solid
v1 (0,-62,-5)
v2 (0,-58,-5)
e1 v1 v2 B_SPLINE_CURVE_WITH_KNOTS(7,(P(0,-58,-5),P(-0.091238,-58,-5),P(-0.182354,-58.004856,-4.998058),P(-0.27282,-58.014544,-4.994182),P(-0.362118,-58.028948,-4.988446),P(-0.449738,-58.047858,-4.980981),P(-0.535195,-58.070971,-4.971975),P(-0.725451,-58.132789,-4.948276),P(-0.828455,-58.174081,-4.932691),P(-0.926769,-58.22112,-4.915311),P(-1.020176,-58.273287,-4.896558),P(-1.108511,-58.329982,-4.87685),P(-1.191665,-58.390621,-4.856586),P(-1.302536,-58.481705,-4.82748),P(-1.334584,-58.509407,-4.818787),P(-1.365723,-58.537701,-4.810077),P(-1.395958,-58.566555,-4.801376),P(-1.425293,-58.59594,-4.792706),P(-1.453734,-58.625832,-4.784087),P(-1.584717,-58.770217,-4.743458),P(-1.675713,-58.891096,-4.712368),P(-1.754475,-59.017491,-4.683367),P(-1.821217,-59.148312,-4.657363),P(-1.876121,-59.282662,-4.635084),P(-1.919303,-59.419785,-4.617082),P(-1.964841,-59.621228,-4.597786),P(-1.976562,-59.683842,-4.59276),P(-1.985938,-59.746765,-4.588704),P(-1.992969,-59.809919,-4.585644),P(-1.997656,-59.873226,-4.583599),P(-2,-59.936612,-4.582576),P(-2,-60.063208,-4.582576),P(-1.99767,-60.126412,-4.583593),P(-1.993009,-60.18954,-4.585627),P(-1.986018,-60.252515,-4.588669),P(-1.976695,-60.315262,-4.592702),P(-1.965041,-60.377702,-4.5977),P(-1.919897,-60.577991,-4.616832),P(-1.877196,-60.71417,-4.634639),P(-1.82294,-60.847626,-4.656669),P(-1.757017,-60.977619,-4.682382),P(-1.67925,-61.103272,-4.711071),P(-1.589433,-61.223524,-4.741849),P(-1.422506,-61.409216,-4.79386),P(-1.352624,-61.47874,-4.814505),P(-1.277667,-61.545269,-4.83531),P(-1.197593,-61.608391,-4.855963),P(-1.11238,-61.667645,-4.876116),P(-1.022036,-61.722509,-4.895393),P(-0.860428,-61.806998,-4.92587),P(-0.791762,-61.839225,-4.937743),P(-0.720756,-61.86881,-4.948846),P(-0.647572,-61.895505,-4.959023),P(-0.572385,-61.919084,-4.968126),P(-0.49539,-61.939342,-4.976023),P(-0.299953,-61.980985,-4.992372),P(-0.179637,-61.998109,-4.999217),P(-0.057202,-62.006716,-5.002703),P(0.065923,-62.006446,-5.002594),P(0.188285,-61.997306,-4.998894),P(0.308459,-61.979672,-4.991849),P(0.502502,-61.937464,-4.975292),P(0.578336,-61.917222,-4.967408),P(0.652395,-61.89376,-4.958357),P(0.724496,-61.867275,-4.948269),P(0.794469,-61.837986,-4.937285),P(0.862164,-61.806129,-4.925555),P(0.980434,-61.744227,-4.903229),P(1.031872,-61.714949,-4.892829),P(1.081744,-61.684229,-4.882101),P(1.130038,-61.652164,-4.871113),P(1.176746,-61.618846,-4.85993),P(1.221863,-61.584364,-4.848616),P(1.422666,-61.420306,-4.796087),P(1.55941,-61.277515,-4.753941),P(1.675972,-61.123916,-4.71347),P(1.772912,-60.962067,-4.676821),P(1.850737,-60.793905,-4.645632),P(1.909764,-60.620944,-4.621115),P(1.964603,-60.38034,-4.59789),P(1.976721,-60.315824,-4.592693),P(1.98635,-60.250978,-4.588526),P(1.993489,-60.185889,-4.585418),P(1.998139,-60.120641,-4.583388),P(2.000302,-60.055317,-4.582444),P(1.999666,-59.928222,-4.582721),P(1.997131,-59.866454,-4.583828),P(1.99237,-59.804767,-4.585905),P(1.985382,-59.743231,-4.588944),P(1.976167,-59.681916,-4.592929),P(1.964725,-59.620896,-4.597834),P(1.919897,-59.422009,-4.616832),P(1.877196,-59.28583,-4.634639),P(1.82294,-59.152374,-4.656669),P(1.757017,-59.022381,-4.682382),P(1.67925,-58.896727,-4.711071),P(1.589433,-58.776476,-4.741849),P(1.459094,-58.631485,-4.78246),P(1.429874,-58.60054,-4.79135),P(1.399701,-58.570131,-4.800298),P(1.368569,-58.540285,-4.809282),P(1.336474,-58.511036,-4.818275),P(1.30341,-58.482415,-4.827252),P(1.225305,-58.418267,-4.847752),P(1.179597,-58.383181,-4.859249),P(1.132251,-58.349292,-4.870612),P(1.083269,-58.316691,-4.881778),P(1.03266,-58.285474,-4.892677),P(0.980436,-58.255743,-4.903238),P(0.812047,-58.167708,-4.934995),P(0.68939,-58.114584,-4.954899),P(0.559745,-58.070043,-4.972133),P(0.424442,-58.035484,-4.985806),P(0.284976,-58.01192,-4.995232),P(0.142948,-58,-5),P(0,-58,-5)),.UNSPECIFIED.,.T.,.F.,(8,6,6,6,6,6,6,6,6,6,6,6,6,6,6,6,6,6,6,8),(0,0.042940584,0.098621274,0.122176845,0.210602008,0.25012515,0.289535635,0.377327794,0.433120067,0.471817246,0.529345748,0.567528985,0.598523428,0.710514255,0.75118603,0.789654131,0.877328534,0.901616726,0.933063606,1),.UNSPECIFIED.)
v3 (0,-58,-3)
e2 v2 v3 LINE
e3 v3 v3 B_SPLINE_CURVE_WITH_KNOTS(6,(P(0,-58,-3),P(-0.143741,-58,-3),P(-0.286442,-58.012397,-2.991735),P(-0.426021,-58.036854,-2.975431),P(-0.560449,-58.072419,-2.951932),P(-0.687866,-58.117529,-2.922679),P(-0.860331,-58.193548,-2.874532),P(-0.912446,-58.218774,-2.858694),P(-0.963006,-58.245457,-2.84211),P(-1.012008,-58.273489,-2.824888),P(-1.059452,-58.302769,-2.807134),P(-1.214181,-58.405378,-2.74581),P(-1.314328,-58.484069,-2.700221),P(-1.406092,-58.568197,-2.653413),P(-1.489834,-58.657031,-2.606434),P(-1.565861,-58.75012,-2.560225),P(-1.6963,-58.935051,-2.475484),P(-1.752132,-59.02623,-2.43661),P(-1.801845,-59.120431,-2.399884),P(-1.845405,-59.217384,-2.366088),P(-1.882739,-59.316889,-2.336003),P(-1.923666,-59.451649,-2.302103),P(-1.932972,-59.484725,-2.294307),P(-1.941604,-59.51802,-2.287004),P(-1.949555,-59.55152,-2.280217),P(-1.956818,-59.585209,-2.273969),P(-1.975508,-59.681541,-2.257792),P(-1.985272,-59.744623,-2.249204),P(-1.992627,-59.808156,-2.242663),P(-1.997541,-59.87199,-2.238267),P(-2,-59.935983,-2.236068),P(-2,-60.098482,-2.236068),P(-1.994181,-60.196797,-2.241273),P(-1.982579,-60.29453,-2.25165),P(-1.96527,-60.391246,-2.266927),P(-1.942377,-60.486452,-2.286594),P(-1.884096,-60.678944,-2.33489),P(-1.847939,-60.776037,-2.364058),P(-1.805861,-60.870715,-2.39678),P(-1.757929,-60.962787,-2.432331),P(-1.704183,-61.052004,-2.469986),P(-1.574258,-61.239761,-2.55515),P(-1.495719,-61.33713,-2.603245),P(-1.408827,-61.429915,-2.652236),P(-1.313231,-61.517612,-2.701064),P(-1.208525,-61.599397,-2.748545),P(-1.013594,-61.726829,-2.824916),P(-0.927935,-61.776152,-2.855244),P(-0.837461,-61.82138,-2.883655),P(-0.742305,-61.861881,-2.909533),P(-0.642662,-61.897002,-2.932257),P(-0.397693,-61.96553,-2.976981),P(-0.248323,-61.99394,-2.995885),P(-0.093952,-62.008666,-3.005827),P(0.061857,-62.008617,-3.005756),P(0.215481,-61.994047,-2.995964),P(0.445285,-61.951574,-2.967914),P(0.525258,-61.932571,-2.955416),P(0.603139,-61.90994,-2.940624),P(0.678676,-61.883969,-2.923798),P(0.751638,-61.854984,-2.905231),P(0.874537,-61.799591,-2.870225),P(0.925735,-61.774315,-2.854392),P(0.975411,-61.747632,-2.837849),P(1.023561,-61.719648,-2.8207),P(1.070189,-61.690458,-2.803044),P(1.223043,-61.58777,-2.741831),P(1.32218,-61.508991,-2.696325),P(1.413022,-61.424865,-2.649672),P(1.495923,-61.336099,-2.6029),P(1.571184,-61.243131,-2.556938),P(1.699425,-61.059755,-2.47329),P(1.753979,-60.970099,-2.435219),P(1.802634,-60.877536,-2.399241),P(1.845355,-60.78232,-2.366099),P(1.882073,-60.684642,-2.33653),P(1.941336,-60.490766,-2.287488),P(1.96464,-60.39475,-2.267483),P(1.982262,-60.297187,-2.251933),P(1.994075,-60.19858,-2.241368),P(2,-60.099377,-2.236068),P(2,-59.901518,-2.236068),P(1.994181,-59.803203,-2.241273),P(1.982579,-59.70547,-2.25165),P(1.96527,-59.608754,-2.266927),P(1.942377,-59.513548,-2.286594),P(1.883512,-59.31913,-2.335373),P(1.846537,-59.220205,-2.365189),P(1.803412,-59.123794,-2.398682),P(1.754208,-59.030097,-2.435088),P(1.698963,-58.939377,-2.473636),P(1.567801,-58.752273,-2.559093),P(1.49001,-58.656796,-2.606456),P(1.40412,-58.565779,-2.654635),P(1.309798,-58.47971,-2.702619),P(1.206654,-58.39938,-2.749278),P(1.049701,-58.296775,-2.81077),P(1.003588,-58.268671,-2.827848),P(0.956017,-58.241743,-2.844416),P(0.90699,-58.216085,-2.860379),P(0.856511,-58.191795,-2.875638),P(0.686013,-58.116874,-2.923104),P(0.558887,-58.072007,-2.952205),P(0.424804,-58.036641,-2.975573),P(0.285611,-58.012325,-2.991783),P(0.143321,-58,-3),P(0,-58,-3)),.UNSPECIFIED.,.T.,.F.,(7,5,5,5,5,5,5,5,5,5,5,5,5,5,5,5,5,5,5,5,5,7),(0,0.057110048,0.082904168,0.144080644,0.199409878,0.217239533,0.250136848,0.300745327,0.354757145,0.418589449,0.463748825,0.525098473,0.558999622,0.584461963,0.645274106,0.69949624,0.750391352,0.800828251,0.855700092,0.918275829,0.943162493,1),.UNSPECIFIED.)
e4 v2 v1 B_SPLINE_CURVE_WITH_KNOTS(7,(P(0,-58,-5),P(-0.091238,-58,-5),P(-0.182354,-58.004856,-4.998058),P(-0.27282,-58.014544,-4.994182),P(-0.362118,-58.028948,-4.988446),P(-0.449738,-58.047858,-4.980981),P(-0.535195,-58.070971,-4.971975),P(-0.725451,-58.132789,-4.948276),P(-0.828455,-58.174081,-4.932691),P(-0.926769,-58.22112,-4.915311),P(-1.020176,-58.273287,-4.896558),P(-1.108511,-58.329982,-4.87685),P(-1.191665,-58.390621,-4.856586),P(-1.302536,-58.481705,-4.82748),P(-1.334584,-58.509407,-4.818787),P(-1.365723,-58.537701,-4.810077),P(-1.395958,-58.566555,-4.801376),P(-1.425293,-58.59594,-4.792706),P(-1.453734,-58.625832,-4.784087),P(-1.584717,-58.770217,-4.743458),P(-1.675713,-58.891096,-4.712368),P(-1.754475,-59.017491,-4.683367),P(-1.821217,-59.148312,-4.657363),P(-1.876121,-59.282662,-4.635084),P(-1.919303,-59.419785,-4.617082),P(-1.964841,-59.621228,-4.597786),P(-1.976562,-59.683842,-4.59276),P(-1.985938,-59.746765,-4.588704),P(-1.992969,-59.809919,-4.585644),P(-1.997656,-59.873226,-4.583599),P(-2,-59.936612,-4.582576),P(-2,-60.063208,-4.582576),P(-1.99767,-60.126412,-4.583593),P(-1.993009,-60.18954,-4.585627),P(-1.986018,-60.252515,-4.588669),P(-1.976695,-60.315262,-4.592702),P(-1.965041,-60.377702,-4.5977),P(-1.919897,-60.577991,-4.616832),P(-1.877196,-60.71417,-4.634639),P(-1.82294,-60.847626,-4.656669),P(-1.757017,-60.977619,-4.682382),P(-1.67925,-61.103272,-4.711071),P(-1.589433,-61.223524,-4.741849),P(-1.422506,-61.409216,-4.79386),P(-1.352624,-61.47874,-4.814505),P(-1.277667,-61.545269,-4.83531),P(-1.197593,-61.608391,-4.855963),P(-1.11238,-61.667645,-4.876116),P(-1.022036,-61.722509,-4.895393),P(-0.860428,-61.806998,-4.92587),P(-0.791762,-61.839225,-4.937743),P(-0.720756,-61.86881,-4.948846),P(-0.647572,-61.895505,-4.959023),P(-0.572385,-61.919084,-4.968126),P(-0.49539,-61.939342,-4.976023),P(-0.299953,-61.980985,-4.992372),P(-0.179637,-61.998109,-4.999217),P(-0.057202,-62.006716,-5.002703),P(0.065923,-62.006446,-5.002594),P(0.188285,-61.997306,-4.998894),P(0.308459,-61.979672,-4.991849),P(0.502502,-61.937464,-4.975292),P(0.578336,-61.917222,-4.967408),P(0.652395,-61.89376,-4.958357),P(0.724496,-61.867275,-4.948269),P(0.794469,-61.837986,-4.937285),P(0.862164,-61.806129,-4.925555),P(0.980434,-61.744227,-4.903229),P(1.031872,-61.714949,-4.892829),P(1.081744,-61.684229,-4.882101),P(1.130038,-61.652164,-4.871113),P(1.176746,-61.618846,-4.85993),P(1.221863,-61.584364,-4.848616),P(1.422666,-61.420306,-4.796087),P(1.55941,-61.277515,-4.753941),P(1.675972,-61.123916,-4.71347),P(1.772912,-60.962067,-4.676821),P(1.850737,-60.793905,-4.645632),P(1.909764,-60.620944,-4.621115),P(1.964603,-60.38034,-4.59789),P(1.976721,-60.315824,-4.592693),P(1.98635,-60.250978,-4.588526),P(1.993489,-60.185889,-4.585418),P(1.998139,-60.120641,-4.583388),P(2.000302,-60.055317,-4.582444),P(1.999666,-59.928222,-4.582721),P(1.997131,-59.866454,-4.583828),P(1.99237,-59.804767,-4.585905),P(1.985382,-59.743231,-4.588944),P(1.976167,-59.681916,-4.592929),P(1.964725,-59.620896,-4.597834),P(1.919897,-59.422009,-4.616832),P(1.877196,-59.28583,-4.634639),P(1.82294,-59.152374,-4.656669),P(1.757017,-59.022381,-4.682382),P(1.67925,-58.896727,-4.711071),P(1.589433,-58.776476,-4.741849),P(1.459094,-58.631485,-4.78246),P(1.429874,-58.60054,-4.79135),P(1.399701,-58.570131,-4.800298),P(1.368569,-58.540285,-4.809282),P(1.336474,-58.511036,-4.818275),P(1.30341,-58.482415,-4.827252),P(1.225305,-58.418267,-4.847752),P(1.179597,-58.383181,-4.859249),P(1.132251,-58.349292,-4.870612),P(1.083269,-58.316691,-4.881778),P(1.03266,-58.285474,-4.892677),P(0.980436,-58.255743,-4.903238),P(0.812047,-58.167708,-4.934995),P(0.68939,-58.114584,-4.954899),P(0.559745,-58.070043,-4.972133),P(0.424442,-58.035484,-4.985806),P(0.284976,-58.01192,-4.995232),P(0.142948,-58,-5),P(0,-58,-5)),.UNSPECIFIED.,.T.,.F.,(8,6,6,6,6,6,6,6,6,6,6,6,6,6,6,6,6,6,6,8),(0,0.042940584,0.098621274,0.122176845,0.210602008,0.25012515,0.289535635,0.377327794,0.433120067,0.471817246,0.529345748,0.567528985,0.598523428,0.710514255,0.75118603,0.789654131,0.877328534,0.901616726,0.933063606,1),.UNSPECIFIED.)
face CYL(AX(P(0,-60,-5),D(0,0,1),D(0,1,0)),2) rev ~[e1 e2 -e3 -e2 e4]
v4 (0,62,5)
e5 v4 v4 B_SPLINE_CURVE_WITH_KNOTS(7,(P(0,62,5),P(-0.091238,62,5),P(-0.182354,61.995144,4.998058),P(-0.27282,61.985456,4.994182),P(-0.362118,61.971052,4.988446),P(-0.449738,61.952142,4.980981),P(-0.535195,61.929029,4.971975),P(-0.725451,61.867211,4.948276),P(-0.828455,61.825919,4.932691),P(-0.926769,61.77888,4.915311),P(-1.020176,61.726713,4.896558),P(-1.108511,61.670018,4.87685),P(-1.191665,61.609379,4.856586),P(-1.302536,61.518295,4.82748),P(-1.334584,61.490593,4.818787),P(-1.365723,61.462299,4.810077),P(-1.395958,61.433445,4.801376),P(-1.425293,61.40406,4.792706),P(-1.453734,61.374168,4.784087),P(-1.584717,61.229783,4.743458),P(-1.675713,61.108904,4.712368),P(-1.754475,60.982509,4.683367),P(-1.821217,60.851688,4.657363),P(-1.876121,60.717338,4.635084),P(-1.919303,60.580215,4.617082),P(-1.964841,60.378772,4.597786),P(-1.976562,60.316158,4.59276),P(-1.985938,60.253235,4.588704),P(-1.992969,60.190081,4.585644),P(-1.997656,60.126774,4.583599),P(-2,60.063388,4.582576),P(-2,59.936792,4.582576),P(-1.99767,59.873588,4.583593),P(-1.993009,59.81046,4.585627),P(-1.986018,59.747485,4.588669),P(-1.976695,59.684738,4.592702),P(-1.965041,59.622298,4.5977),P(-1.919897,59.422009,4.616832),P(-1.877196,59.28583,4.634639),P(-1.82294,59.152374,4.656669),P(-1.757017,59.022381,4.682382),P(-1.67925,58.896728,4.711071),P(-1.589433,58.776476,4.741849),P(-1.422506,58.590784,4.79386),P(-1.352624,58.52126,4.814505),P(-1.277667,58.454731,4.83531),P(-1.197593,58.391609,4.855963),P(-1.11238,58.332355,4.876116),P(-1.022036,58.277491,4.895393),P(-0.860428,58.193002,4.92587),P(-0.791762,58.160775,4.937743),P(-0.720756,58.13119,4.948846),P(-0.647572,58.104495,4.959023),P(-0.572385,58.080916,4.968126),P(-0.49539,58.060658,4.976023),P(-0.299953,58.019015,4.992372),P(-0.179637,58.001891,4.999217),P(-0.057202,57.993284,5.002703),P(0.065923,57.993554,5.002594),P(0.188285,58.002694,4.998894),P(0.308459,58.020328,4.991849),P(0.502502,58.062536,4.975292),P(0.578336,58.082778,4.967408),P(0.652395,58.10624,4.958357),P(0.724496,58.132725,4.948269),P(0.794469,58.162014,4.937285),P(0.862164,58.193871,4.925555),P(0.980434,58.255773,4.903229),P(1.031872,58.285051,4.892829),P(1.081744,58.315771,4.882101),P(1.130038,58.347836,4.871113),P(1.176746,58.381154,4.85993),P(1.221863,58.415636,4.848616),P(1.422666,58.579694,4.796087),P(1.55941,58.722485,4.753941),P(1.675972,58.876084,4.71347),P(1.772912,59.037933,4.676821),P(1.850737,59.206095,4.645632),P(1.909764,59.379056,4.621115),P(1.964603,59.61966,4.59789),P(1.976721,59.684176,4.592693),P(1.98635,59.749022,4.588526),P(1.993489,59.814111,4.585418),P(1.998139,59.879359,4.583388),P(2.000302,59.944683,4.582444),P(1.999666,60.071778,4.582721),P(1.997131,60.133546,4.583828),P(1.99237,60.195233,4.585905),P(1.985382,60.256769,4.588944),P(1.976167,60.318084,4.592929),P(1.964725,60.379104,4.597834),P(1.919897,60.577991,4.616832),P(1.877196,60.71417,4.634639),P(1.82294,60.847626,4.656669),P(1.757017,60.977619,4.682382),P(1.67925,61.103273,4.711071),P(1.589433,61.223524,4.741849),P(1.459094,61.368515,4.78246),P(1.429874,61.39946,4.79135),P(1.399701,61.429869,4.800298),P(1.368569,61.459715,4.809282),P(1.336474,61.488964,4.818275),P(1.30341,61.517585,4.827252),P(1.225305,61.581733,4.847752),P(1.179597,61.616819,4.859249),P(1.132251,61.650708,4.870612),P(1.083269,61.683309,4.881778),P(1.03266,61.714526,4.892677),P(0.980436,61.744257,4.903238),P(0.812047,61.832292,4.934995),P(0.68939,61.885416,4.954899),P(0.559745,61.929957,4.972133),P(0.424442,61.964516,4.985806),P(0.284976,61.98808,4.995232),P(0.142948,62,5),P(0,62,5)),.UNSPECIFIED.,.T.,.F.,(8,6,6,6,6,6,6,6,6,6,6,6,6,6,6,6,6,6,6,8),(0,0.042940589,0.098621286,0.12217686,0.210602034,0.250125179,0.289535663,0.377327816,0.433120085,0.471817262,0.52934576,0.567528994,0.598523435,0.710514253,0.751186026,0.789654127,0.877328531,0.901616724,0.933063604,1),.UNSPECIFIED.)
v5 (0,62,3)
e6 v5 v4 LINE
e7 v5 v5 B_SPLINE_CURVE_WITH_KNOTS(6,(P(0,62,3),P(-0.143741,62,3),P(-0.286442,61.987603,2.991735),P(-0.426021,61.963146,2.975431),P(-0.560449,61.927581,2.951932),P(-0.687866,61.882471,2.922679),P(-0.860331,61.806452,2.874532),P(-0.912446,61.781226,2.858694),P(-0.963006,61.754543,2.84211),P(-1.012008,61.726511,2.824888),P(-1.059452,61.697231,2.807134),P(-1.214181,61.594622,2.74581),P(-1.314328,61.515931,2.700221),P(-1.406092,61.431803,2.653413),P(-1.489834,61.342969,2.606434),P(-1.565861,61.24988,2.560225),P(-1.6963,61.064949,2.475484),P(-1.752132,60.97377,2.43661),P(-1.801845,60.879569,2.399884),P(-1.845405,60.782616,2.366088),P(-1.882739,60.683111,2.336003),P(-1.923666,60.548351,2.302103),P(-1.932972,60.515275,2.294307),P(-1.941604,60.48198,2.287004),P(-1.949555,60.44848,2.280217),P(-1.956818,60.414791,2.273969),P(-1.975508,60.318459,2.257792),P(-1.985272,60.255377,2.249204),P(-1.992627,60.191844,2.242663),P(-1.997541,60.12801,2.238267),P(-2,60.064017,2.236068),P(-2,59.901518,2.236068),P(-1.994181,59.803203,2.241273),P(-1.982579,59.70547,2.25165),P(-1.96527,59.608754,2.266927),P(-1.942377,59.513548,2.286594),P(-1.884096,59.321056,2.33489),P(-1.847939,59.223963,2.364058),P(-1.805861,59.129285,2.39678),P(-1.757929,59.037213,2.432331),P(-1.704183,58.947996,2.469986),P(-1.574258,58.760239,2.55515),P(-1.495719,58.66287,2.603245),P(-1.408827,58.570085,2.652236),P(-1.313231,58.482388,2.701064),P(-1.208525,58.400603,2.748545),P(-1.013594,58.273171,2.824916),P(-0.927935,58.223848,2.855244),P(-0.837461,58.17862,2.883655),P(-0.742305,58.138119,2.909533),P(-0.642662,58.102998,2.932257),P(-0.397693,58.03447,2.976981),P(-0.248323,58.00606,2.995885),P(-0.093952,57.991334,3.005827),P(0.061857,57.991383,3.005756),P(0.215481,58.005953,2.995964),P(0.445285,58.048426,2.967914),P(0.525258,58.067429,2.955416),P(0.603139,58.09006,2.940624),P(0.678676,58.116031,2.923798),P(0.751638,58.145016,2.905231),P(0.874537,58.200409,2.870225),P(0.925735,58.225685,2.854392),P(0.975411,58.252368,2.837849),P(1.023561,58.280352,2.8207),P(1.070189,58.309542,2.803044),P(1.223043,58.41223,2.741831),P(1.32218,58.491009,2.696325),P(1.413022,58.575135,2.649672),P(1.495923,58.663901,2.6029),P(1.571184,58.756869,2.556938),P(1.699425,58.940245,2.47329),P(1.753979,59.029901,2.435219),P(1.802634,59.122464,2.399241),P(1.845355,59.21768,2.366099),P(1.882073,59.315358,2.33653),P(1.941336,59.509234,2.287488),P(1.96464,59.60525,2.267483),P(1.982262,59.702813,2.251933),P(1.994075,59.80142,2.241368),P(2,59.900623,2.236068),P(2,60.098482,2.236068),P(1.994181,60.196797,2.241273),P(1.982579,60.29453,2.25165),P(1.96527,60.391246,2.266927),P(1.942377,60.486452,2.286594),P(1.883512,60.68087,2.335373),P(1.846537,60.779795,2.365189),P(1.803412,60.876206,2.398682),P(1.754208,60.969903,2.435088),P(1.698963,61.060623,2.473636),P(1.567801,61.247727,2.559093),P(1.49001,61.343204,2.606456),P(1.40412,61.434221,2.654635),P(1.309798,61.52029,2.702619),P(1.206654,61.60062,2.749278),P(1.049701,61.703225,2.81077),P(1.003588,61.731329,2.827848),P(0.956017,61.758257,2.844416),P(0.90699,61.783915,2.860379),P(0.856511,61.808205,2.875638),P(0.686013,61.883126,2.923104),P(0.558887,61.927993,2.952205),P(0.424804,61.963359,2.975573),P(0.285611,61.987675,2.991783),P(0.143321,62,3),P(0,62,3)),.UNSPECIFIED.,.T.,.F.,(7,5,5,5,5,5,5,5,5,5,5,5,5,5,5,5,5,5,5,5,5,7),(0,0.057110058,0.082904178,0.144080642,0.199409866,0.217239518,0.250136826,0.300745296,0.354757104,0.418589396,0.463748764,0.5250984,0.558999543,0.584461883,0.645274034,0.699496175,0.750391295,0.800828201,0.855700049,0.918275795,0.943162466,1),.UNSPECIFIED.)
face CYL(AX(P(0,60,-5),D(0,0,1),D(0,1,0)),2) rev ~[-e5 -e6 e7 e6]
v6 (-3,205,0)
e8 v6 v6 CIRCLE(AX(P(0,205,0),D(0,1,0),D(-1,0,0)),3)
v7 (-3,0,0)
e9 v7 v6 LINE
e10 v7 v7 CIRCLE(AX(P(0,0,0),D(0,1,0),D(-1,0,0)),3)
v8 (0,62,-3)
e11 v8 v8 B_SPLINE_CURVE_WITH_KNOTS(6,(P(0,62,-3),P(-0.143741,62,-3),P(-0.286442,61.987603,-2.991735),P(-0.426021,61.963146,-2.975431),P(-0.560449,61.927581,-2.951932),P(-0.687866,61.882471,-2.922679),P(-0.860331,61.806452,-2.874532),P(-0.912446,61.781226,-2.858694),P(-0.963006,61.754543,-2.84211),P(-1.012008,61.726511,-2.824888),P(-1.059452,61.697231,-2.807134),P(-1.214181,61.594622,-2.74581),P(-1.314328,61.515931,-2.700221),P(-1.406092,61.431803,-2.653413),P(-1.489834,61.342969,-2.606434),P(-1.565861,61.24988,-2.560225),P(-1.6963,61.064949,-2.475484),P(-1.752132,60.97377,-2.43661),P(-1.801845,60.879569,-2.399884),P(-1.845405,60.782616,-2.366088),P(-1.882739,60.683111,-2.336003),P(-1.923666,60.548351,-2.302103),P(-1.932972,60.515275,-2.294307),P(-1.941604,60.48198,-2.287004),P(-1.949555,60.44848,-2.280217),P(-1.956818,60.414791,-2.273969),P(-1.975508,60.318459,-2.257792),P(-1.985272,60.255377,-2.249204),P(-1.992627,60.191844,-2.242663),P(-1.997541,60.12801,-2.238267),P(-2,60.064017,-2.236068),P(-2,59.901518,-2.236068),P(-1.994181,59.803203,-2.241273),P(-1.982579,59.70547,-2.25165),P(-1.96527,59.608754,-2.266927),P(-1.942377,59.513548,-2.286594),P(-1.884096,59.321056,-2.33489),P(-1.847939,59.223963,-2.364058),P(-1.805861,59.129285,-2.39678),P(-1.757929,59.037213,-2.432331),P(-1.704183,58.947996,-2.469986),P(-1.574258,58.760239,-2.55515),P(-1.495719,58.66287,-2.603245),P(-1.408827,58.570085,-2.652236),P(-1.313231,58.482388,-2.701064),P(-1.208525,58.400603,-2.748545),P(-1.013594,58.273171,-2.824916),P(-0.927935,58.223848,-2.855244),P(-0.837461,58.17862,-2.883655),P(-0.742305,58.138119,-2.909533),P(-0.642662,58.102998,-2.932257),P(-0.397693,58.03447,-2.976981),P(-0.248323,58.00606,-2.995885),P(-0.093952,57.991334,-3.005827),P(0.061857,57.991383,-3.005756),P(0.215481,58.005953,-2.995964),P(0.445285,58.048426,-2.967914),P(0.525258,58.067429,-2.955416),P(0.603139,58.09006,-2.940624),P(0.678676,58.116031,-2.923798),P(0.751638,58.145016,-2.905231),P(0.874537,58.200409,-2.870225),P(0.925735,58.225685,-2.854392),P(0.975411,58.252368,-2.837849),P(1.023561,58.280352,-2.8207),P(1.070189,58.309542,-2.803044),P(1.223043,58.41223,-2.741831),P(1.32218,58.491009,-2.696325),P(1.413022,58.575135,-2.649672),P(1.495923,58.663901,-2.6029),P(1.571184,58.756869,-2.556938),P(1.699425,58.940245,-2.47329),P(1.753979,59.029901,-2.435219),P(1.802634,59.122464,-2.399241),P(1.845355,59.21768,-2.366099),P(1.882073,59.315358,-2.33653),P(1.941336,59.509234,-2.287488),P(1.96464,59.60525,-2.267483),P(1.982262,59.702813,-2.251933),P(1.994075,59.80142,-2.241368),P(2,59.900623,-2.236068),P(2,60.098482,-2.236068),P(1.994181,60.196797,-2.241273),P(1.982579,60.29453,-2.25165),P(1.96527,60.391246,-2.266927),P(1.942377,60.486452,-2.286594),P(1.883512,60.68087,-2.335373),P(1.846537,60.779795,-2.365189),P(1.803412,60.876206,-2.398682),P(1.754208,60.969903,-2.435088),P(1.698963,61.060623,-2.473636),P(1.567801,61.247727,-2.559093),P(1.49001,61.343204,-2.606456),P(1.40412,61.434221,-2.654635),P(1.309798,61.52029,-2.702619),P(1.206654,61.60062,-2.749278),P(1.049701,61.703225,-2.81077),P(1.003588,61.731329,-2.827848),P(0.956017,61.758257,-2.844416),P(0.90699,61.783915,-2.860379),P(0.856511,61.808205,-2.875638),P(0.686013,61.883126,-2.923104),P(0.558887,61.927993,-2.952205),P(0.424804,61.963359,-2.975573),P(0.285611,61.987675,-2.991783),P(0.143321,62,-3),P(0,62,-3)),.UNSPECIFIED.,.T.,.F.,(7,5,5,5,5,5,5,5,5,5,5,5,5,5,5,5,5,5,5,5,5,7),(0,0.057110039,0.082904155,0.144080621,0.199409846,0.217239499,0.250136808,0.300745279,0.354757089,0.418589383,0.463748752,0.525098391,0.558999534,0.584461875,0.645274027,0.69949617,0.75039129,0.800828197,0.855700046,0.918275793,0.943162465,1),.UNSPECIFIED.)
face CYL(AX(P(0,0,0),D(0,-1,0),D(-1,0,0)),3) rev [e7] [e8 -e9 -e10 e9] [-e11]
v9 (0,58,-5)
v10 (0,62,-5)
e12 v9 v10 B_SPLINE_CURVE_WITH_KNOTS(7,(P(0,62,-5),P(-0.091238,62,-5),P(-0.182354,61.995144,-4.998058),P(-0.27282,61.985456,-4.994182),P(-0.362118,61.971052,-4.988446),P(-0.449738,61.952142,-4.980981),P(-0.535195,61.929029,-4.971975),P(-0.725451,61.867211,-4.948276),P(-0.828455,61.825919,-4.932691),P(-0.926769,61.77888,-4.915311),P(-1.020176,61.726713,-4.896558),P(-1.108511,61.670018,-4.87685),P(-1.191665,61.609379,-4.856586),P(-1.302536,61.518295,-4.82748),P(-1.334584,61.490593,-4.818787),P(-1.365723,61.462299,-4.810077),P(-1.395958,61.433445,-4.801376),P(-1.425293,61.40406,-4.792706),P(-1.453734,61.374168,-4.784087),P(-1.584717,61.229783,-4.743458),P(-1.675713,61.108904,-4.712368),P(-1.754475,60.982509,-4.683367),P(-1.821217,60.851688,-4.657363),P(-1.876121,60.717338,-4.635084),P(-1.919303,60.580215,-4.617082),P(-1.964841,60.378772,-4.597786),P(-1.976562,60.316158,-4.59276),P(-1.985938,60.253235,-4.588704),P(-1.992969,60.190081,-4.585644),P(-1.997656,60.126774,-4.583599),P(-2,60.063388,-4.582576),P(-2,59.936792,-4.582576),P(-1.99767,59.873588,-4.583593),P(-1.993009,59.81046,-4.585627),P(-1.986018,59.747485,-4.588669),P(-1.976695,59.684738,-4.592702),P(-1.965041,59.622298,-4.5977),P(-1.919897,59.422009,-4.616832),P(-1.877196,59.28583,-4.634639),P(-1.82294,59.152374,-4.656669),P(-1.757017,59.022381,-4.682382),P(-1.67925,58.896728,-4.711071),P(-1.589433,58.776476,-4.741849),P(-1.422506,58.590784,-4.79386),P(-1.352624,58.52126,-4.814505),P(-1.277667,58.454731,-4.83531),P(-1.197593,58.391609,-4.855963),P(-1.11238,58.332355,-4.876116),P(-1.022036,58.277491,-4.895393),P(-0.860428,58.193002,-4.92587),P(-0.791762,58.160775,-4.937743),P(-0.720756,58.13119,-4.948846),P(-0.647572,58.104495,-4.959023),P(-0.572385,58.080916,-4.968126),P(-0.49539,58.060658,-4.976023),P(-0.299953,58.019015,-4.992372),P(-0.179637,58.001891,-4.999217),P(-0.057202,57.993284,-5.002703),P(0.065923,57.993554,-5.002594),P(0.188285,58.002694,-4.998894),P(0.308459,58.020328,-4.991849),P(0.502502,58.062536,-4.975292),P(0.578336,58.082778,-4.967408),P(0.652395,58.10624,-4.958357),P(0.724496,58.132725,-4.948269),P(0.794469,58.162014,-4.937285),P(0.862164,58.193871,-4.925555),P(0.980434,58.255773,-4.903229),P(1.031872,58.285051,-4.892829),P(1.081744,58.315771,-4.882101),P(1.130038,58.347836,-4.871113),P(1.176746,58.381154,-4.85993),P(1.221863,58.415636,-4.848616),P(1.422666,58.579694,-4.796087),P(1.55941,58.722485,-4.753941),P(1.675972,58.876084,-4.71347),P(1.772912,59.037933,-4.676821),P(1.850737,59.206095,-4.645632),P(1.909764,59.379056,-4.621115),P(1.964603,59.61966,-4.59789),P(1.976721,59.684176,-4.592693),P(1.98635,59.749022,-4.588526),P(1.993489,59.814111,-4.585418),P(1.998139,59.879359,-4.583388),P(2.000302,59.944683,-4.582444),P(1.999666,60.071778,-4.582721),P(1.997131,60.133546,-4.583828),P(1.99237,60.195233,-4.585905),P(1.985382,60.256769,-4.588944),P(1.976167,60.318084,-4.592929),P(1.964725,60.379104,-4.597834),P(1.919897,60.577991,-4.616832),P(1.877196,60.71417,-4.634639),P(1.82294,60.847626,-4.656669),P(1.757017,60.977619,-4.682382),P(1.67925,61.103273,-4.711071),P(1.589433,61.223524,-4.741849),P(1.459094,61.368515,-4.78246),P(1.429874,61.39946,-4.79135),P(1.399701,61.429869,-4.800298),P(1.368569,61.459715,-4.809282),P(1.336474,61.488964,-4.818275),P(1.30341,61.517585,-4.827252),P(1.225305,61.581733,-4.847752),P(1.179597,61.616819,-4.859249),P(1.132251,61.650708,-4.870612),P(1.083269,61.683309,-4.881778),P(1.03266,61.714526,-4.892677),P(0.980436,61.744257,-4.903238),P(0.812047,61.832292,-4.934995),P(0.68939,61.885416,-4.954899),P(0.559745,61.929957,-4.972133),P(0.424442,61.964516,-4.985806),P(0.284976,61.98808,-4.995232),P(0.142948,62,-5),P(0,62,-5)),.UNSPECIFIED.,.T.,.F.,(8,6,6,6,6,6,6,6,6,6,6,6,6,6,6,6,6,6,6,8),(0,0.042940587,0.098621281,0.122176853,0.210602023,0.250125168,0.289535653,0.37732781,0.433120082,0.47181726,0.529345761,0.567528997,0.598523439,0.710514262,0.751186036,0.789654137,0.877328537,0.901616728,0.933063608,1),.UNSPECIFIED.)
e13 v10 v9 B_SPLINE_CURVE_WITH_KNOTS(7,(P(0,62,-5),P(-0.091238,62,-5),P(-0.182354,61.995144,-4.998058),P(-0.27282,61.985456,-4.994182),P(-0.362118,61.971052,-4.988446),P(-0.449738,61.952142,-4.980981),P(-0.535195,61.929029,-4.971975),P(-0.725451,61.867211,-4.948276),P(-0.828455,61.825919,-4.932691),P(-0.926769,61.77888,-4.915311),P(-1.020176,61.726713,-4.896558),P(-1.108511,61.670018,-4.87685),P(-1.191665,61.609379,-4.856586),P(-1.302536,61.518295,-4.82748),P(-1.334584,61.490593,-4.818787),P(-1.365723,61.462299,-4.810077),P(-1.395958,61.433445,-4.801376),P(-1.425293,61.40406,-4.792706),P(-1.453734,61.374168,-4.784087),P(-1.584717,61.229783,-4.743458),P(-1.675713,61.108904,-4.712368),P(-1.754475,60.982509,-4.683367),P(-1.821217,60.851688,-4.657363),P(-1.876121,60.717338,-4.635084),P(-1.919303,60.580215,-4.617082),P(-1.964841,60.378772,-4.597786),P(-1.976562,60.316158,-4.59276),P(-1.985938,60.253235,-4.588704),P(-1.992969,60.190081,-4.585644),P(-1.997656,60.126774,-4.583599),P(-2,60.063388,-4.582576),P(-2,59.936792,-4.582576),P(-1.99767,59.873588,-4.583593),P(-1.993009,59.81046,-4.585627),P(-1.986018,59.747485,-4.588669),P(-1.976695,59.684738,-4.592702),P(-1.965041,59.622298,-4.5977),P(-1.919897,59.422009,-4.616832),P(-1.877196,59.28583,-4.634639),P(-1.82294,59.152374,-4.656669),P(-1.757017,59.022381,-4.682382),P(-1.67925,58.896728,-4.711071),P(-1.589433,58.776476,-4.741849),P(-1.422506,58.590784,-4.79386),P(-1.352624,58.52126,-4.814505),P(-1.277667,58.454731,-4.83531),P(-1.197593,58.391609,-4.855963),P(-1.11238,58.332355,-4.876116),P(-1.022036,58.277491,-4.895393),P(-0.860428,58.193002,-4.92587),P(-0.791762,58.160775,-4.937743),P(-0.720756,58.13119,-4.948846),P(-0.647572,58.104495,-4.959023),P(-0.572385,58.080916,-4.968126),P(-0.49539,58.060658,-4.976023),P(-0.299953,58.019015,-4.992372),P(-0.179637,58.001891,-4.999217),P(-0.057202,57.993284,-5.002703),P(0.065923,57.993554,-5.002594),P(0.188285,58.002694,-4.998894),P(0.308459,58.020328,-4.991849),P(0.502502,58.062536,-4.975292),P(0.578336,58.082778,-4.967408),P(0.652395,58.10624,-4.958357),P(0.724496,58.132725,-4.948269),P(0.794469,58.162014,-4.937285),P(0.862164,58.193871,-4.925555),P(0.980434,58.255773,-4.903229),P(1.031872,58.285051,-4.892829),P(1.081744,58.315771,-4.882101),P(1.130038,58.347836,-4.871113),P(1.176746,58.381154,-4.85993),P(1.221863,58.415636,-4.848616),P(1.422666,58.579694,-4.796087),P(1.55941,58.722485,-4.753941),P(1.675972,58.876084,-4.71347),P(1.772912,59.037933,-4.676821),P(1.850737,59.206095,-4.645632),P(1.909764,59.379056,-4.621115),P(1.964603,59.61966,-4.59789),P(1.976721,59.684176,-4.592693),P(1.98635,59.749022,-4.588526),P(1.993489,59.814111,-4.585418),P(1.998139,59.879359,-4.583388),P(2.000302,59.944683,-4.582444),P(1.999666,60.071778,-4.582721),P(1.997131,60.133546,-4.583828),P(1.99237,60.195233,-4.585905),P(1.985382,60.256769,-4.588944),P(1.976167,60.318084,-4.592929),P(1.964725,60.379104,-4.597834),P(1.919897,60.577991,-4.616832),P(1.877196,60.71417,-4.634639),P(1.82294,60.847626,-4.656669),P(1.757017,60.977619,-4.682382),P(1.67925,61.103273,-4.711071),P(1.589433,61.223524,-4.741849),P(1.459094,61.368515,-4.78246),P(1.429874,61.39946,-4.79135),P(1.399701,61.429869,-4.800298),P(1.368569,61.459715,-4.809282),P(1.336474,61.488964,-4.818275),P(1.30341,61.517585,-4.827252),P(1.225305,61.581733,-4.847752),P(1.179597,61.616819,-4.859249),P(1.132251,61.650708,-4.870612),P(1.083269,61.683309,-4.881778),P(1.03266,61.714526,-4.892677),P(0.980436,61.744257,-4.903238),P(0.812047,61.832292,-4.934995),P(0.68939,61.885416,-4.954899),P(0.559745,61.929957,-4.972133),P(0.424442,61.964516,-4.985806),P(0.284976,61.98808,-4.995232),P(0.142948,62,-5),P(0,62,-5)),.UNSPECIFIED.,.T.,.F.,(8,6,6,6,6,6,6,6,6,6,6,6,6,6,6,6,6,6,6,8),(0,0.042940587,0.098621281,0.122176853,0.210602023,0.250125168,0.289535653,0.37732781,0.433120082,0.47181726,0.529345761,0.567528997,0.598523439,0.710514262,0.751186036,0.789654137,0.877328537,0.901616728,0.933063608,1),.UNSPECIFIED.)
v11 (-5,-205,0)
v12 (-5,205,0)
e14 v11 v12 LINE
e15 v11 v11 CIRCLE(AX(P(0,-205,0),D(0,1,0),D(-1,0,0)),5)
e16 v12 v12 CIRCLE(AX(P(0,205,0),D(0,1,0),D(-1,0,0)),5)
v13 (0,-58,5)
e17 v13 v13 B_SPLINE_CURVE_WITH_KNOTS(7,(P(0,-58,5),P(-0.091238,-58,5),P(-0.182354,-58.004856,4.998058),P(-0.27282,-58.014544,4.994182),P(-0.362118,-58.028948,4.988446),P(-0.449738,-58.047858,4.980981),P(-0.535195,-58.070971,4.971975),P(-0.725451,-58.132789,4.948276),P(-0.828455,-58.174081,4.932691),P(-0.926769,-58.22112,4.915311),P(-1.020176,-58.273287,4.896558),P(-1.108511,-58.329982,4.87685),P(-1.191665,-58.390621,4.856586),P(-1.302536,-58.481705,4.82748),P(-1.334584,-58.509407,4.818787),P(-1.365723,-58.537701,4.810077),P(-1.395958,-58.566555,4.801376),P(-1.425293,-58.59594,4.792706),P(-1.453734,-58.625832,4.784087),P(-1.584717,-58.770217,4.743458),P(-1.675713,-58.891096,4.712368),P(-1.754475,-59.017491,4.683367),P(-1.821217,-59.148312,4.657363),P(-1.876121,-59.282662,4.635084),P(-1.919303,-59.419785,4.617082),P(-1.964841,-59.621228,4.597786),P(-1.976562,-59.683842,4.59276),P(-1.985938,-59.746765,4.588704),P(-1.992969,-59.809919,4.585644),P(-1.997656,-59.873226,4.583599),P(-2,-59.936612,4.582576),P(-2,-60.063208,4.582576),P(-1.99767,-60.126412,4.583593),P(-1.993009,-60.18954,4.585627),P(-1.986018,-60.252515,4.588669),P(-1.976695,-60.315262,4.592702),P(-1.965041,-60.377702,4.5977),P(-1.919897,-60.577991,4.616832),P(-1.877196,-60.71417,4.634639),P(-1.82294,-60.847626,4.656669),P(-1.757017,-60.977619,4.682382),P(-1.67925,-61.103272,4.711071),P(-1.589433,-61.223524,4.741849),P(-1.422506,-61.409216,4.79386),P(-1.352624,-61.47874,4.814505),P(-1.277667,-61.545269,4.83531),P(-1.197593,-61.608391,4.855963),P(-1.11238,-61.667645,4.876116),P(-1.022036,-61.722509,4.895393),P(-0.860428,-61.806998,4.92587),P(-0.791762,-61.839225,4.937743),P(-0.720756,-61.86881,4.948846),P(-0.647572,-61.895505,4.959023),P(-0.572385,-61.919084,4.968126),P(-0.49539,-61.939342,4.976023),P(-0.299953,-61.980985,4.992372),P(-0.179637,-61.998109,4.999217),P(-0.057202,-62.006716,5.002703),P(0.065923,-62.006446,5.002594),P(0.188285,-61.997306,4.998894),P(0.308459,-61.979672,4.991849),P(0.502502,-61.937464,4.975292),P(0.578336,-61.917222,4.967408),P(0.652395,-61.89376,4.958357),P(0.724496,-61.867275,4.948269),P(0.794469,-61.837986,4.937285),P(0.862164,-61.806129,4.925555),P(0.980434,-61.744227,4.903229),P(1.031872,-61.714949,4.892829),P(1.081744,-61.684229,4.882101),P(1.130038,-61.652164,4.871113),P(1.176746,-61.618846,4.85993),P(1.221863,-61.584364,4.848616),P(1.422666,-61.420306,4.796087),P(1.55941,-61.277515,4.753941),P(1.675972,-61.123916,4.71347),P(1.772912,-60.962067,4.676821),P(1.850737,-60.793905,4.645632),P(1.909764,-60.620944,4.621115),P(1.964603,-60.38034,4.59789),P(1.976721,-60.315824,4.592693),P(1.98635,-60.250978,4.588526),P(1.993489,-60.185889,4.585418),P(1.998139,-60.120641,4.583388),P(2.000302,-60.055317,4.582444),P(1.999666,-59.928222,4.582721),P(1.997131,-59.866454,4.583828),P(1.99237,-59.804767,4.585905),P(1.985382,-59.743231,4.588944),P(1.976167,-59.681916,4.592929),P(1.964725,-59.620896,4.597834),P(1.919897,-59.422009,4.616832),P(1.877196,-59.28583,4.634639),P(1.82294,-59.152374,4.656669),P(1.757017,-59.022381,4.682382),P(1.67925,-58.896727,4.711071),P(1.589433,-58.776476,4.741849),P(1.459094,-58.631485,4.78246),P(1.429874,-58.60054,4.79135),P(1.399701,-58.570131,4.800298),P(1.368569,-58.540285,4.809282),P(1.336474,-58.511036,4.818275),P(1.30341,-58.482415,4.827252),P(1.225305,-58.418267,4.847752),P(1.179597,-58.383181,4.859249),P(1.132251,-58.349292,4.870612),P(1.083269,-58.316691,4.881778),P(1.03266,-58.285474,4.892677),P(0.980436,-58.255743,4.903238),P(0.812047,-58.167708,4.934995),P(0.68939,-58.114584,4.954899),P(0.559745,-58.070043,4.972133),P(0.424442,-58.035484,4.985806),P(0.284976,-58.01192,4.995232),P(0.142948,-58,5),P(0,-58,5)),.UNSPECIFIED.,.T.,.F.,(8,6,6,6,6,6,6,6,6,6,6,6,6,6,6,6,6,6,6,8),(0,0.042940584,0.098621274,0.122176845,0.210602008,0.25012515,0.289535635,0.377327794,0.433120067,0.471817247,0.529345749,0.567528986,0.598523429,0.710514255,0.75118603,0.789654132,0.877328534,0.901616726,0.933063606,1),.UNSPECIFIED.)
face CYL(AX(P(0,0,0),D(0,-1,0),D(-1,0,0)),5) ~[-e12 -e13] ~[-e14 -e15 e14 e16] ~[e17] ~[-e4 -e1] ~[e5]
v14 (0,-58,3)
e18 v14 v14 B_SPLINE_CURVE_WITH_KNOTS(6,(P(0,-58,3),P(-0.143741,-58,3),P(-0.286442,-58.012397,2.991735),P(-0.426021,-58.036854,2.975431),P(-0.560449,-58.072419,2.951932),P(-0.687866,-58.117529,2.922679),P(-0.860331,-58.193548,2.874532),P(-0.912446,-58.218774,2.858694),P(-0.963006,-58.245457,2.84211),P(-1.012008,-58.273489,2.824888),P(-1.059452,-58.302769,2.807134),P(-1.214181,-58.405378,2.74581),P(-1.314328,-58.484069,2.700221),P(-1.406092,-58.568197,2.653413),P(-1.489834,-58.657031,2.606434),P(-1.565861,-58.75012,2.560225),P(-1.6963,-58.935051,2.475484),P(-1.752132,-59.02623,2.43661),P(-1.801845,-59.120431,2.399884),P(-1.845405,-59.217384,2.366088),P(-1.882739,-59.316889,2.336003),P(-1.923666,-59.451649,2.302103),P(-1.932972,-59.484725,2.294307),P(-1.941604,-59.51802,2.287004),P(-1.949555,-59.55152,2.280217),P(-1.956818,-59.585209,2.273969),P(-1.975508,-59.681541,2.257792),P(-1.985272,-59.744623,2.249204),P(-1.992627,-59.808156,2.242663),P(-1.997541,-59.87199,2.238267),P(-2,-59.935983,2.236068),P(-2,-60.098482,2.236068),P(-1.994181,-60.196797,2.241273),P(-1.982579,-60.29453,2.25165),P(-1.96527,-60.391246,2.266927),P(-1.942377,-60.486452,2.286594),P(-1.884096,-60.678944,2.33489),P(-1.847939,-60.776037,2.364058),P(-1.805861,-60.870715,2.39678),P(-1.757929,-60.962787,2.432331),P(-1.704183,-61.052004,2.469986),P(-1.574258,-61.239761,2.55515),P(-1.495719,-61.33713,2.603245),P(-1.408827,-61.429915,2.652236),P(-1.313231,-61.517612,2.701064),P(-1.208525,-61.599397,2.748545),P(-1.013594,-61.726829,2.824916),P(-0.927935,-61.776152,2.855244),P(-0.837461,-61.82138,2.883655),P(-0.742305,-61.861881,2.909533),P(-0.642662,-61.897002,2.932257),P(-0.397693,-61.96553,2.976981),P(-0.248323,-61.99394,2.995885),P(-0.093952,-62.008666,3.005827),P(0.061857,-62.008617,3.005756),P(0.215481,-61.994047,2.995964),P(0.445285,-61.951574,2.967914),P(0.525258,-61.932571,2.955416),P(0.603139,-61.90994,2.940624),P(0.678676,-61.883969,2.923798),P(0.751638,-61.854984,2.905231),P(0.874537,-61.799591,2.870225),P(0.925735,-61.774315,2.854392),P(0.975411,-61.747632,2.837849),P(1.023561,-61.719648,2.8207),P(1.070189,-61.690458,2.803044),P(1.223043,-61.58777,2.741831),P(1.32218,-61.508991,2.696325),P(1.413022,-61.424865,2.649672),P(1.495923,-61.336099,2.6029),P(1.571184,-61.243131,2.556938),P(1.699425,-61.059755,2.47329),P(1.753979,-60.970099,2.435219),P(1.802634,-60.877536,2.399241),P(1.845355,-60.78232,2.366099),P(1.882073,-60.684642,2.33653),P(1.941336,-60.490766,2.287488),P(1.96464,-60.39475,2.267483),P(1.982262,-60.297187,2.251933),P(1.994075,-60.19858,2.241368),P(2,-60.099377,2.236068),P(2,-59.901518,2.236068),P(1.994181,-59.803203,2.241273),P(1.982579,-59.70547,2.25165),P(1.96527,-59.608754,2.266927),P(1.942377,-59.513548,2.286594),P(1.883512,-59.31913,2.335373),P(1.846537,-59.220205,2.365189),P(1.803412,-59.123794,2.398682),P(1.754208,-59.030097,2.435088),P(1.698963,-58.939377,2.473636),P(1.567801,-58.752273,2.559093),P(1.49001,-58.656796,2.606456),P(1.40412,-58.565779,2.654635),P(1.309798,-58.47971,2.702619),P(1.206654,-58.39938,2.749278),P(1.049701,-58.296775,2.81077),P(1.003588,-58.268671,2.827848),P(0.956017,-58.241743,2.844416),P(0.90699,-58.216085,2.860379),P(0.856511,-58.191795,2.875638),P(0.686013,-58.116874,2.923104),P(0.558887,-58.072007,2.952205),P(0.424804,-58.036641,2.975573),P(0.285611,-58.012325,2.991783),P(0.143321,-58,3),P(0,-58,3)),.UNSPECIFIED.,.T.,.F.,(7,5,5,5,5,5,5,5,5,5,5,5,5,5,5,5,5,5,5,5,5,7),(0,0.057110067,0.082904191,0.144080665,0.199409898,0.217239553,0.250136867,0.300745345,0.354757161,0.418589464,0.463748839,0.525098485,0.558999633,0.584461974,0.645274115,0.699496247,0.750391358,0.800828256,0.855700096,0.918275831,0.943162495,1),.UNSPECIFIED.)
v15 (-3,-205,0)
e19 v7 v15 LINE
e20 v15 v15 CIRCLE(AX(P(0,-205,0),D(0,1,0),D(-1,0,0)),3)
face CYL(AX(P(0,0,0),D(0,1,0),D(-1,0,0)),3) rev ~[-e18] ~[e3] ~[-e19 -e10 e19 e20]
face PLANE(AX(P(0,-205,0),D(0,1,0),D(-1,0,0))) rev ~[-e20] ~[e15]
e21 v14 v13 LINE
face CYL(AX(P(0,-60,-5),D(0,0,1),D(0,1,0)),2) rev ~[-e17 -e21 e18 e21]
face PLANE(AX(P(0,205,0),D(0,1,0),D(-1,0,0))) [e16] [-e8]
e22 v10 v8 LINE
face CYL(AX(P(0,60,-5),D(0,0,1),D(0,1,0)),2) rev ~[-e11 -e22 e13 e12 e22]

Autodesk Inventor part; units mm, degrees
ref_plane "YZ Plane" through (0, 0, 0) normal (1, 0, 0) x (0, 1, 0)
ref_plane "XZ Plane" through (0, 0, 0) normal (0, 1, 0) x (-1, 0, 0)
ref_plane "XY Plane" through (0, 0, 0) normal (0, 0, 1) x (1, 0, 0)
sketch "Skizze1" plane through (0, 0, 0) normal (0, 1, 0) x (-1, 0, 0)
  circle A0 centre (0, 0) radius 5
  circle A1 centre (0, 0) radius 3
  dimension "d0" = 2
  dimension "d2" = 10
  dimension "d20" = 6
extrude "Extrusion1" add sketch "Skizze1" along normal mid plane 410
ref_plane "Arbeitsebene2" through (0, 0, -5) normal (0, 0, 1) x (1, 0, 0)
ref_plane "Arbeitsebene1" through (-8, 108.509, 24.4581) normal (0, 0, 1) x (0, -1, 0)
sketch "Skizze3" plane through (0, 0, -5) normal (0, 0, 1) x (1, 0, 0)
  line L0 (0, 0) -> (0, 160.2649) construction
  point P0 (0, 0)
  point P1 (0, 80.1325)
  point P2 (0, 60)
  point P3 (0, -60)
  dimension "d8" = 60
  dimension "d10" = 60
hole "Bohrung1" at (0, 60, -5) at (0, -60, -5) direction (0, 0, 1) diameter 4 end through all
ref_plane "Arbeitsebene4" through (0, 0, 5) normal (0, 0, 1) x (1, 0, 0)
thread "Gewinde1" size "M6x1" class "6H" standard "ANSI Metric M Profile" length 10
thread "Gewinde2" size "M6x1" class "6H" standard "ANSI Metric M Profile" length 10
properties part number "Zwischenstange oberhalb ventilhalter" material "Aluminium"
